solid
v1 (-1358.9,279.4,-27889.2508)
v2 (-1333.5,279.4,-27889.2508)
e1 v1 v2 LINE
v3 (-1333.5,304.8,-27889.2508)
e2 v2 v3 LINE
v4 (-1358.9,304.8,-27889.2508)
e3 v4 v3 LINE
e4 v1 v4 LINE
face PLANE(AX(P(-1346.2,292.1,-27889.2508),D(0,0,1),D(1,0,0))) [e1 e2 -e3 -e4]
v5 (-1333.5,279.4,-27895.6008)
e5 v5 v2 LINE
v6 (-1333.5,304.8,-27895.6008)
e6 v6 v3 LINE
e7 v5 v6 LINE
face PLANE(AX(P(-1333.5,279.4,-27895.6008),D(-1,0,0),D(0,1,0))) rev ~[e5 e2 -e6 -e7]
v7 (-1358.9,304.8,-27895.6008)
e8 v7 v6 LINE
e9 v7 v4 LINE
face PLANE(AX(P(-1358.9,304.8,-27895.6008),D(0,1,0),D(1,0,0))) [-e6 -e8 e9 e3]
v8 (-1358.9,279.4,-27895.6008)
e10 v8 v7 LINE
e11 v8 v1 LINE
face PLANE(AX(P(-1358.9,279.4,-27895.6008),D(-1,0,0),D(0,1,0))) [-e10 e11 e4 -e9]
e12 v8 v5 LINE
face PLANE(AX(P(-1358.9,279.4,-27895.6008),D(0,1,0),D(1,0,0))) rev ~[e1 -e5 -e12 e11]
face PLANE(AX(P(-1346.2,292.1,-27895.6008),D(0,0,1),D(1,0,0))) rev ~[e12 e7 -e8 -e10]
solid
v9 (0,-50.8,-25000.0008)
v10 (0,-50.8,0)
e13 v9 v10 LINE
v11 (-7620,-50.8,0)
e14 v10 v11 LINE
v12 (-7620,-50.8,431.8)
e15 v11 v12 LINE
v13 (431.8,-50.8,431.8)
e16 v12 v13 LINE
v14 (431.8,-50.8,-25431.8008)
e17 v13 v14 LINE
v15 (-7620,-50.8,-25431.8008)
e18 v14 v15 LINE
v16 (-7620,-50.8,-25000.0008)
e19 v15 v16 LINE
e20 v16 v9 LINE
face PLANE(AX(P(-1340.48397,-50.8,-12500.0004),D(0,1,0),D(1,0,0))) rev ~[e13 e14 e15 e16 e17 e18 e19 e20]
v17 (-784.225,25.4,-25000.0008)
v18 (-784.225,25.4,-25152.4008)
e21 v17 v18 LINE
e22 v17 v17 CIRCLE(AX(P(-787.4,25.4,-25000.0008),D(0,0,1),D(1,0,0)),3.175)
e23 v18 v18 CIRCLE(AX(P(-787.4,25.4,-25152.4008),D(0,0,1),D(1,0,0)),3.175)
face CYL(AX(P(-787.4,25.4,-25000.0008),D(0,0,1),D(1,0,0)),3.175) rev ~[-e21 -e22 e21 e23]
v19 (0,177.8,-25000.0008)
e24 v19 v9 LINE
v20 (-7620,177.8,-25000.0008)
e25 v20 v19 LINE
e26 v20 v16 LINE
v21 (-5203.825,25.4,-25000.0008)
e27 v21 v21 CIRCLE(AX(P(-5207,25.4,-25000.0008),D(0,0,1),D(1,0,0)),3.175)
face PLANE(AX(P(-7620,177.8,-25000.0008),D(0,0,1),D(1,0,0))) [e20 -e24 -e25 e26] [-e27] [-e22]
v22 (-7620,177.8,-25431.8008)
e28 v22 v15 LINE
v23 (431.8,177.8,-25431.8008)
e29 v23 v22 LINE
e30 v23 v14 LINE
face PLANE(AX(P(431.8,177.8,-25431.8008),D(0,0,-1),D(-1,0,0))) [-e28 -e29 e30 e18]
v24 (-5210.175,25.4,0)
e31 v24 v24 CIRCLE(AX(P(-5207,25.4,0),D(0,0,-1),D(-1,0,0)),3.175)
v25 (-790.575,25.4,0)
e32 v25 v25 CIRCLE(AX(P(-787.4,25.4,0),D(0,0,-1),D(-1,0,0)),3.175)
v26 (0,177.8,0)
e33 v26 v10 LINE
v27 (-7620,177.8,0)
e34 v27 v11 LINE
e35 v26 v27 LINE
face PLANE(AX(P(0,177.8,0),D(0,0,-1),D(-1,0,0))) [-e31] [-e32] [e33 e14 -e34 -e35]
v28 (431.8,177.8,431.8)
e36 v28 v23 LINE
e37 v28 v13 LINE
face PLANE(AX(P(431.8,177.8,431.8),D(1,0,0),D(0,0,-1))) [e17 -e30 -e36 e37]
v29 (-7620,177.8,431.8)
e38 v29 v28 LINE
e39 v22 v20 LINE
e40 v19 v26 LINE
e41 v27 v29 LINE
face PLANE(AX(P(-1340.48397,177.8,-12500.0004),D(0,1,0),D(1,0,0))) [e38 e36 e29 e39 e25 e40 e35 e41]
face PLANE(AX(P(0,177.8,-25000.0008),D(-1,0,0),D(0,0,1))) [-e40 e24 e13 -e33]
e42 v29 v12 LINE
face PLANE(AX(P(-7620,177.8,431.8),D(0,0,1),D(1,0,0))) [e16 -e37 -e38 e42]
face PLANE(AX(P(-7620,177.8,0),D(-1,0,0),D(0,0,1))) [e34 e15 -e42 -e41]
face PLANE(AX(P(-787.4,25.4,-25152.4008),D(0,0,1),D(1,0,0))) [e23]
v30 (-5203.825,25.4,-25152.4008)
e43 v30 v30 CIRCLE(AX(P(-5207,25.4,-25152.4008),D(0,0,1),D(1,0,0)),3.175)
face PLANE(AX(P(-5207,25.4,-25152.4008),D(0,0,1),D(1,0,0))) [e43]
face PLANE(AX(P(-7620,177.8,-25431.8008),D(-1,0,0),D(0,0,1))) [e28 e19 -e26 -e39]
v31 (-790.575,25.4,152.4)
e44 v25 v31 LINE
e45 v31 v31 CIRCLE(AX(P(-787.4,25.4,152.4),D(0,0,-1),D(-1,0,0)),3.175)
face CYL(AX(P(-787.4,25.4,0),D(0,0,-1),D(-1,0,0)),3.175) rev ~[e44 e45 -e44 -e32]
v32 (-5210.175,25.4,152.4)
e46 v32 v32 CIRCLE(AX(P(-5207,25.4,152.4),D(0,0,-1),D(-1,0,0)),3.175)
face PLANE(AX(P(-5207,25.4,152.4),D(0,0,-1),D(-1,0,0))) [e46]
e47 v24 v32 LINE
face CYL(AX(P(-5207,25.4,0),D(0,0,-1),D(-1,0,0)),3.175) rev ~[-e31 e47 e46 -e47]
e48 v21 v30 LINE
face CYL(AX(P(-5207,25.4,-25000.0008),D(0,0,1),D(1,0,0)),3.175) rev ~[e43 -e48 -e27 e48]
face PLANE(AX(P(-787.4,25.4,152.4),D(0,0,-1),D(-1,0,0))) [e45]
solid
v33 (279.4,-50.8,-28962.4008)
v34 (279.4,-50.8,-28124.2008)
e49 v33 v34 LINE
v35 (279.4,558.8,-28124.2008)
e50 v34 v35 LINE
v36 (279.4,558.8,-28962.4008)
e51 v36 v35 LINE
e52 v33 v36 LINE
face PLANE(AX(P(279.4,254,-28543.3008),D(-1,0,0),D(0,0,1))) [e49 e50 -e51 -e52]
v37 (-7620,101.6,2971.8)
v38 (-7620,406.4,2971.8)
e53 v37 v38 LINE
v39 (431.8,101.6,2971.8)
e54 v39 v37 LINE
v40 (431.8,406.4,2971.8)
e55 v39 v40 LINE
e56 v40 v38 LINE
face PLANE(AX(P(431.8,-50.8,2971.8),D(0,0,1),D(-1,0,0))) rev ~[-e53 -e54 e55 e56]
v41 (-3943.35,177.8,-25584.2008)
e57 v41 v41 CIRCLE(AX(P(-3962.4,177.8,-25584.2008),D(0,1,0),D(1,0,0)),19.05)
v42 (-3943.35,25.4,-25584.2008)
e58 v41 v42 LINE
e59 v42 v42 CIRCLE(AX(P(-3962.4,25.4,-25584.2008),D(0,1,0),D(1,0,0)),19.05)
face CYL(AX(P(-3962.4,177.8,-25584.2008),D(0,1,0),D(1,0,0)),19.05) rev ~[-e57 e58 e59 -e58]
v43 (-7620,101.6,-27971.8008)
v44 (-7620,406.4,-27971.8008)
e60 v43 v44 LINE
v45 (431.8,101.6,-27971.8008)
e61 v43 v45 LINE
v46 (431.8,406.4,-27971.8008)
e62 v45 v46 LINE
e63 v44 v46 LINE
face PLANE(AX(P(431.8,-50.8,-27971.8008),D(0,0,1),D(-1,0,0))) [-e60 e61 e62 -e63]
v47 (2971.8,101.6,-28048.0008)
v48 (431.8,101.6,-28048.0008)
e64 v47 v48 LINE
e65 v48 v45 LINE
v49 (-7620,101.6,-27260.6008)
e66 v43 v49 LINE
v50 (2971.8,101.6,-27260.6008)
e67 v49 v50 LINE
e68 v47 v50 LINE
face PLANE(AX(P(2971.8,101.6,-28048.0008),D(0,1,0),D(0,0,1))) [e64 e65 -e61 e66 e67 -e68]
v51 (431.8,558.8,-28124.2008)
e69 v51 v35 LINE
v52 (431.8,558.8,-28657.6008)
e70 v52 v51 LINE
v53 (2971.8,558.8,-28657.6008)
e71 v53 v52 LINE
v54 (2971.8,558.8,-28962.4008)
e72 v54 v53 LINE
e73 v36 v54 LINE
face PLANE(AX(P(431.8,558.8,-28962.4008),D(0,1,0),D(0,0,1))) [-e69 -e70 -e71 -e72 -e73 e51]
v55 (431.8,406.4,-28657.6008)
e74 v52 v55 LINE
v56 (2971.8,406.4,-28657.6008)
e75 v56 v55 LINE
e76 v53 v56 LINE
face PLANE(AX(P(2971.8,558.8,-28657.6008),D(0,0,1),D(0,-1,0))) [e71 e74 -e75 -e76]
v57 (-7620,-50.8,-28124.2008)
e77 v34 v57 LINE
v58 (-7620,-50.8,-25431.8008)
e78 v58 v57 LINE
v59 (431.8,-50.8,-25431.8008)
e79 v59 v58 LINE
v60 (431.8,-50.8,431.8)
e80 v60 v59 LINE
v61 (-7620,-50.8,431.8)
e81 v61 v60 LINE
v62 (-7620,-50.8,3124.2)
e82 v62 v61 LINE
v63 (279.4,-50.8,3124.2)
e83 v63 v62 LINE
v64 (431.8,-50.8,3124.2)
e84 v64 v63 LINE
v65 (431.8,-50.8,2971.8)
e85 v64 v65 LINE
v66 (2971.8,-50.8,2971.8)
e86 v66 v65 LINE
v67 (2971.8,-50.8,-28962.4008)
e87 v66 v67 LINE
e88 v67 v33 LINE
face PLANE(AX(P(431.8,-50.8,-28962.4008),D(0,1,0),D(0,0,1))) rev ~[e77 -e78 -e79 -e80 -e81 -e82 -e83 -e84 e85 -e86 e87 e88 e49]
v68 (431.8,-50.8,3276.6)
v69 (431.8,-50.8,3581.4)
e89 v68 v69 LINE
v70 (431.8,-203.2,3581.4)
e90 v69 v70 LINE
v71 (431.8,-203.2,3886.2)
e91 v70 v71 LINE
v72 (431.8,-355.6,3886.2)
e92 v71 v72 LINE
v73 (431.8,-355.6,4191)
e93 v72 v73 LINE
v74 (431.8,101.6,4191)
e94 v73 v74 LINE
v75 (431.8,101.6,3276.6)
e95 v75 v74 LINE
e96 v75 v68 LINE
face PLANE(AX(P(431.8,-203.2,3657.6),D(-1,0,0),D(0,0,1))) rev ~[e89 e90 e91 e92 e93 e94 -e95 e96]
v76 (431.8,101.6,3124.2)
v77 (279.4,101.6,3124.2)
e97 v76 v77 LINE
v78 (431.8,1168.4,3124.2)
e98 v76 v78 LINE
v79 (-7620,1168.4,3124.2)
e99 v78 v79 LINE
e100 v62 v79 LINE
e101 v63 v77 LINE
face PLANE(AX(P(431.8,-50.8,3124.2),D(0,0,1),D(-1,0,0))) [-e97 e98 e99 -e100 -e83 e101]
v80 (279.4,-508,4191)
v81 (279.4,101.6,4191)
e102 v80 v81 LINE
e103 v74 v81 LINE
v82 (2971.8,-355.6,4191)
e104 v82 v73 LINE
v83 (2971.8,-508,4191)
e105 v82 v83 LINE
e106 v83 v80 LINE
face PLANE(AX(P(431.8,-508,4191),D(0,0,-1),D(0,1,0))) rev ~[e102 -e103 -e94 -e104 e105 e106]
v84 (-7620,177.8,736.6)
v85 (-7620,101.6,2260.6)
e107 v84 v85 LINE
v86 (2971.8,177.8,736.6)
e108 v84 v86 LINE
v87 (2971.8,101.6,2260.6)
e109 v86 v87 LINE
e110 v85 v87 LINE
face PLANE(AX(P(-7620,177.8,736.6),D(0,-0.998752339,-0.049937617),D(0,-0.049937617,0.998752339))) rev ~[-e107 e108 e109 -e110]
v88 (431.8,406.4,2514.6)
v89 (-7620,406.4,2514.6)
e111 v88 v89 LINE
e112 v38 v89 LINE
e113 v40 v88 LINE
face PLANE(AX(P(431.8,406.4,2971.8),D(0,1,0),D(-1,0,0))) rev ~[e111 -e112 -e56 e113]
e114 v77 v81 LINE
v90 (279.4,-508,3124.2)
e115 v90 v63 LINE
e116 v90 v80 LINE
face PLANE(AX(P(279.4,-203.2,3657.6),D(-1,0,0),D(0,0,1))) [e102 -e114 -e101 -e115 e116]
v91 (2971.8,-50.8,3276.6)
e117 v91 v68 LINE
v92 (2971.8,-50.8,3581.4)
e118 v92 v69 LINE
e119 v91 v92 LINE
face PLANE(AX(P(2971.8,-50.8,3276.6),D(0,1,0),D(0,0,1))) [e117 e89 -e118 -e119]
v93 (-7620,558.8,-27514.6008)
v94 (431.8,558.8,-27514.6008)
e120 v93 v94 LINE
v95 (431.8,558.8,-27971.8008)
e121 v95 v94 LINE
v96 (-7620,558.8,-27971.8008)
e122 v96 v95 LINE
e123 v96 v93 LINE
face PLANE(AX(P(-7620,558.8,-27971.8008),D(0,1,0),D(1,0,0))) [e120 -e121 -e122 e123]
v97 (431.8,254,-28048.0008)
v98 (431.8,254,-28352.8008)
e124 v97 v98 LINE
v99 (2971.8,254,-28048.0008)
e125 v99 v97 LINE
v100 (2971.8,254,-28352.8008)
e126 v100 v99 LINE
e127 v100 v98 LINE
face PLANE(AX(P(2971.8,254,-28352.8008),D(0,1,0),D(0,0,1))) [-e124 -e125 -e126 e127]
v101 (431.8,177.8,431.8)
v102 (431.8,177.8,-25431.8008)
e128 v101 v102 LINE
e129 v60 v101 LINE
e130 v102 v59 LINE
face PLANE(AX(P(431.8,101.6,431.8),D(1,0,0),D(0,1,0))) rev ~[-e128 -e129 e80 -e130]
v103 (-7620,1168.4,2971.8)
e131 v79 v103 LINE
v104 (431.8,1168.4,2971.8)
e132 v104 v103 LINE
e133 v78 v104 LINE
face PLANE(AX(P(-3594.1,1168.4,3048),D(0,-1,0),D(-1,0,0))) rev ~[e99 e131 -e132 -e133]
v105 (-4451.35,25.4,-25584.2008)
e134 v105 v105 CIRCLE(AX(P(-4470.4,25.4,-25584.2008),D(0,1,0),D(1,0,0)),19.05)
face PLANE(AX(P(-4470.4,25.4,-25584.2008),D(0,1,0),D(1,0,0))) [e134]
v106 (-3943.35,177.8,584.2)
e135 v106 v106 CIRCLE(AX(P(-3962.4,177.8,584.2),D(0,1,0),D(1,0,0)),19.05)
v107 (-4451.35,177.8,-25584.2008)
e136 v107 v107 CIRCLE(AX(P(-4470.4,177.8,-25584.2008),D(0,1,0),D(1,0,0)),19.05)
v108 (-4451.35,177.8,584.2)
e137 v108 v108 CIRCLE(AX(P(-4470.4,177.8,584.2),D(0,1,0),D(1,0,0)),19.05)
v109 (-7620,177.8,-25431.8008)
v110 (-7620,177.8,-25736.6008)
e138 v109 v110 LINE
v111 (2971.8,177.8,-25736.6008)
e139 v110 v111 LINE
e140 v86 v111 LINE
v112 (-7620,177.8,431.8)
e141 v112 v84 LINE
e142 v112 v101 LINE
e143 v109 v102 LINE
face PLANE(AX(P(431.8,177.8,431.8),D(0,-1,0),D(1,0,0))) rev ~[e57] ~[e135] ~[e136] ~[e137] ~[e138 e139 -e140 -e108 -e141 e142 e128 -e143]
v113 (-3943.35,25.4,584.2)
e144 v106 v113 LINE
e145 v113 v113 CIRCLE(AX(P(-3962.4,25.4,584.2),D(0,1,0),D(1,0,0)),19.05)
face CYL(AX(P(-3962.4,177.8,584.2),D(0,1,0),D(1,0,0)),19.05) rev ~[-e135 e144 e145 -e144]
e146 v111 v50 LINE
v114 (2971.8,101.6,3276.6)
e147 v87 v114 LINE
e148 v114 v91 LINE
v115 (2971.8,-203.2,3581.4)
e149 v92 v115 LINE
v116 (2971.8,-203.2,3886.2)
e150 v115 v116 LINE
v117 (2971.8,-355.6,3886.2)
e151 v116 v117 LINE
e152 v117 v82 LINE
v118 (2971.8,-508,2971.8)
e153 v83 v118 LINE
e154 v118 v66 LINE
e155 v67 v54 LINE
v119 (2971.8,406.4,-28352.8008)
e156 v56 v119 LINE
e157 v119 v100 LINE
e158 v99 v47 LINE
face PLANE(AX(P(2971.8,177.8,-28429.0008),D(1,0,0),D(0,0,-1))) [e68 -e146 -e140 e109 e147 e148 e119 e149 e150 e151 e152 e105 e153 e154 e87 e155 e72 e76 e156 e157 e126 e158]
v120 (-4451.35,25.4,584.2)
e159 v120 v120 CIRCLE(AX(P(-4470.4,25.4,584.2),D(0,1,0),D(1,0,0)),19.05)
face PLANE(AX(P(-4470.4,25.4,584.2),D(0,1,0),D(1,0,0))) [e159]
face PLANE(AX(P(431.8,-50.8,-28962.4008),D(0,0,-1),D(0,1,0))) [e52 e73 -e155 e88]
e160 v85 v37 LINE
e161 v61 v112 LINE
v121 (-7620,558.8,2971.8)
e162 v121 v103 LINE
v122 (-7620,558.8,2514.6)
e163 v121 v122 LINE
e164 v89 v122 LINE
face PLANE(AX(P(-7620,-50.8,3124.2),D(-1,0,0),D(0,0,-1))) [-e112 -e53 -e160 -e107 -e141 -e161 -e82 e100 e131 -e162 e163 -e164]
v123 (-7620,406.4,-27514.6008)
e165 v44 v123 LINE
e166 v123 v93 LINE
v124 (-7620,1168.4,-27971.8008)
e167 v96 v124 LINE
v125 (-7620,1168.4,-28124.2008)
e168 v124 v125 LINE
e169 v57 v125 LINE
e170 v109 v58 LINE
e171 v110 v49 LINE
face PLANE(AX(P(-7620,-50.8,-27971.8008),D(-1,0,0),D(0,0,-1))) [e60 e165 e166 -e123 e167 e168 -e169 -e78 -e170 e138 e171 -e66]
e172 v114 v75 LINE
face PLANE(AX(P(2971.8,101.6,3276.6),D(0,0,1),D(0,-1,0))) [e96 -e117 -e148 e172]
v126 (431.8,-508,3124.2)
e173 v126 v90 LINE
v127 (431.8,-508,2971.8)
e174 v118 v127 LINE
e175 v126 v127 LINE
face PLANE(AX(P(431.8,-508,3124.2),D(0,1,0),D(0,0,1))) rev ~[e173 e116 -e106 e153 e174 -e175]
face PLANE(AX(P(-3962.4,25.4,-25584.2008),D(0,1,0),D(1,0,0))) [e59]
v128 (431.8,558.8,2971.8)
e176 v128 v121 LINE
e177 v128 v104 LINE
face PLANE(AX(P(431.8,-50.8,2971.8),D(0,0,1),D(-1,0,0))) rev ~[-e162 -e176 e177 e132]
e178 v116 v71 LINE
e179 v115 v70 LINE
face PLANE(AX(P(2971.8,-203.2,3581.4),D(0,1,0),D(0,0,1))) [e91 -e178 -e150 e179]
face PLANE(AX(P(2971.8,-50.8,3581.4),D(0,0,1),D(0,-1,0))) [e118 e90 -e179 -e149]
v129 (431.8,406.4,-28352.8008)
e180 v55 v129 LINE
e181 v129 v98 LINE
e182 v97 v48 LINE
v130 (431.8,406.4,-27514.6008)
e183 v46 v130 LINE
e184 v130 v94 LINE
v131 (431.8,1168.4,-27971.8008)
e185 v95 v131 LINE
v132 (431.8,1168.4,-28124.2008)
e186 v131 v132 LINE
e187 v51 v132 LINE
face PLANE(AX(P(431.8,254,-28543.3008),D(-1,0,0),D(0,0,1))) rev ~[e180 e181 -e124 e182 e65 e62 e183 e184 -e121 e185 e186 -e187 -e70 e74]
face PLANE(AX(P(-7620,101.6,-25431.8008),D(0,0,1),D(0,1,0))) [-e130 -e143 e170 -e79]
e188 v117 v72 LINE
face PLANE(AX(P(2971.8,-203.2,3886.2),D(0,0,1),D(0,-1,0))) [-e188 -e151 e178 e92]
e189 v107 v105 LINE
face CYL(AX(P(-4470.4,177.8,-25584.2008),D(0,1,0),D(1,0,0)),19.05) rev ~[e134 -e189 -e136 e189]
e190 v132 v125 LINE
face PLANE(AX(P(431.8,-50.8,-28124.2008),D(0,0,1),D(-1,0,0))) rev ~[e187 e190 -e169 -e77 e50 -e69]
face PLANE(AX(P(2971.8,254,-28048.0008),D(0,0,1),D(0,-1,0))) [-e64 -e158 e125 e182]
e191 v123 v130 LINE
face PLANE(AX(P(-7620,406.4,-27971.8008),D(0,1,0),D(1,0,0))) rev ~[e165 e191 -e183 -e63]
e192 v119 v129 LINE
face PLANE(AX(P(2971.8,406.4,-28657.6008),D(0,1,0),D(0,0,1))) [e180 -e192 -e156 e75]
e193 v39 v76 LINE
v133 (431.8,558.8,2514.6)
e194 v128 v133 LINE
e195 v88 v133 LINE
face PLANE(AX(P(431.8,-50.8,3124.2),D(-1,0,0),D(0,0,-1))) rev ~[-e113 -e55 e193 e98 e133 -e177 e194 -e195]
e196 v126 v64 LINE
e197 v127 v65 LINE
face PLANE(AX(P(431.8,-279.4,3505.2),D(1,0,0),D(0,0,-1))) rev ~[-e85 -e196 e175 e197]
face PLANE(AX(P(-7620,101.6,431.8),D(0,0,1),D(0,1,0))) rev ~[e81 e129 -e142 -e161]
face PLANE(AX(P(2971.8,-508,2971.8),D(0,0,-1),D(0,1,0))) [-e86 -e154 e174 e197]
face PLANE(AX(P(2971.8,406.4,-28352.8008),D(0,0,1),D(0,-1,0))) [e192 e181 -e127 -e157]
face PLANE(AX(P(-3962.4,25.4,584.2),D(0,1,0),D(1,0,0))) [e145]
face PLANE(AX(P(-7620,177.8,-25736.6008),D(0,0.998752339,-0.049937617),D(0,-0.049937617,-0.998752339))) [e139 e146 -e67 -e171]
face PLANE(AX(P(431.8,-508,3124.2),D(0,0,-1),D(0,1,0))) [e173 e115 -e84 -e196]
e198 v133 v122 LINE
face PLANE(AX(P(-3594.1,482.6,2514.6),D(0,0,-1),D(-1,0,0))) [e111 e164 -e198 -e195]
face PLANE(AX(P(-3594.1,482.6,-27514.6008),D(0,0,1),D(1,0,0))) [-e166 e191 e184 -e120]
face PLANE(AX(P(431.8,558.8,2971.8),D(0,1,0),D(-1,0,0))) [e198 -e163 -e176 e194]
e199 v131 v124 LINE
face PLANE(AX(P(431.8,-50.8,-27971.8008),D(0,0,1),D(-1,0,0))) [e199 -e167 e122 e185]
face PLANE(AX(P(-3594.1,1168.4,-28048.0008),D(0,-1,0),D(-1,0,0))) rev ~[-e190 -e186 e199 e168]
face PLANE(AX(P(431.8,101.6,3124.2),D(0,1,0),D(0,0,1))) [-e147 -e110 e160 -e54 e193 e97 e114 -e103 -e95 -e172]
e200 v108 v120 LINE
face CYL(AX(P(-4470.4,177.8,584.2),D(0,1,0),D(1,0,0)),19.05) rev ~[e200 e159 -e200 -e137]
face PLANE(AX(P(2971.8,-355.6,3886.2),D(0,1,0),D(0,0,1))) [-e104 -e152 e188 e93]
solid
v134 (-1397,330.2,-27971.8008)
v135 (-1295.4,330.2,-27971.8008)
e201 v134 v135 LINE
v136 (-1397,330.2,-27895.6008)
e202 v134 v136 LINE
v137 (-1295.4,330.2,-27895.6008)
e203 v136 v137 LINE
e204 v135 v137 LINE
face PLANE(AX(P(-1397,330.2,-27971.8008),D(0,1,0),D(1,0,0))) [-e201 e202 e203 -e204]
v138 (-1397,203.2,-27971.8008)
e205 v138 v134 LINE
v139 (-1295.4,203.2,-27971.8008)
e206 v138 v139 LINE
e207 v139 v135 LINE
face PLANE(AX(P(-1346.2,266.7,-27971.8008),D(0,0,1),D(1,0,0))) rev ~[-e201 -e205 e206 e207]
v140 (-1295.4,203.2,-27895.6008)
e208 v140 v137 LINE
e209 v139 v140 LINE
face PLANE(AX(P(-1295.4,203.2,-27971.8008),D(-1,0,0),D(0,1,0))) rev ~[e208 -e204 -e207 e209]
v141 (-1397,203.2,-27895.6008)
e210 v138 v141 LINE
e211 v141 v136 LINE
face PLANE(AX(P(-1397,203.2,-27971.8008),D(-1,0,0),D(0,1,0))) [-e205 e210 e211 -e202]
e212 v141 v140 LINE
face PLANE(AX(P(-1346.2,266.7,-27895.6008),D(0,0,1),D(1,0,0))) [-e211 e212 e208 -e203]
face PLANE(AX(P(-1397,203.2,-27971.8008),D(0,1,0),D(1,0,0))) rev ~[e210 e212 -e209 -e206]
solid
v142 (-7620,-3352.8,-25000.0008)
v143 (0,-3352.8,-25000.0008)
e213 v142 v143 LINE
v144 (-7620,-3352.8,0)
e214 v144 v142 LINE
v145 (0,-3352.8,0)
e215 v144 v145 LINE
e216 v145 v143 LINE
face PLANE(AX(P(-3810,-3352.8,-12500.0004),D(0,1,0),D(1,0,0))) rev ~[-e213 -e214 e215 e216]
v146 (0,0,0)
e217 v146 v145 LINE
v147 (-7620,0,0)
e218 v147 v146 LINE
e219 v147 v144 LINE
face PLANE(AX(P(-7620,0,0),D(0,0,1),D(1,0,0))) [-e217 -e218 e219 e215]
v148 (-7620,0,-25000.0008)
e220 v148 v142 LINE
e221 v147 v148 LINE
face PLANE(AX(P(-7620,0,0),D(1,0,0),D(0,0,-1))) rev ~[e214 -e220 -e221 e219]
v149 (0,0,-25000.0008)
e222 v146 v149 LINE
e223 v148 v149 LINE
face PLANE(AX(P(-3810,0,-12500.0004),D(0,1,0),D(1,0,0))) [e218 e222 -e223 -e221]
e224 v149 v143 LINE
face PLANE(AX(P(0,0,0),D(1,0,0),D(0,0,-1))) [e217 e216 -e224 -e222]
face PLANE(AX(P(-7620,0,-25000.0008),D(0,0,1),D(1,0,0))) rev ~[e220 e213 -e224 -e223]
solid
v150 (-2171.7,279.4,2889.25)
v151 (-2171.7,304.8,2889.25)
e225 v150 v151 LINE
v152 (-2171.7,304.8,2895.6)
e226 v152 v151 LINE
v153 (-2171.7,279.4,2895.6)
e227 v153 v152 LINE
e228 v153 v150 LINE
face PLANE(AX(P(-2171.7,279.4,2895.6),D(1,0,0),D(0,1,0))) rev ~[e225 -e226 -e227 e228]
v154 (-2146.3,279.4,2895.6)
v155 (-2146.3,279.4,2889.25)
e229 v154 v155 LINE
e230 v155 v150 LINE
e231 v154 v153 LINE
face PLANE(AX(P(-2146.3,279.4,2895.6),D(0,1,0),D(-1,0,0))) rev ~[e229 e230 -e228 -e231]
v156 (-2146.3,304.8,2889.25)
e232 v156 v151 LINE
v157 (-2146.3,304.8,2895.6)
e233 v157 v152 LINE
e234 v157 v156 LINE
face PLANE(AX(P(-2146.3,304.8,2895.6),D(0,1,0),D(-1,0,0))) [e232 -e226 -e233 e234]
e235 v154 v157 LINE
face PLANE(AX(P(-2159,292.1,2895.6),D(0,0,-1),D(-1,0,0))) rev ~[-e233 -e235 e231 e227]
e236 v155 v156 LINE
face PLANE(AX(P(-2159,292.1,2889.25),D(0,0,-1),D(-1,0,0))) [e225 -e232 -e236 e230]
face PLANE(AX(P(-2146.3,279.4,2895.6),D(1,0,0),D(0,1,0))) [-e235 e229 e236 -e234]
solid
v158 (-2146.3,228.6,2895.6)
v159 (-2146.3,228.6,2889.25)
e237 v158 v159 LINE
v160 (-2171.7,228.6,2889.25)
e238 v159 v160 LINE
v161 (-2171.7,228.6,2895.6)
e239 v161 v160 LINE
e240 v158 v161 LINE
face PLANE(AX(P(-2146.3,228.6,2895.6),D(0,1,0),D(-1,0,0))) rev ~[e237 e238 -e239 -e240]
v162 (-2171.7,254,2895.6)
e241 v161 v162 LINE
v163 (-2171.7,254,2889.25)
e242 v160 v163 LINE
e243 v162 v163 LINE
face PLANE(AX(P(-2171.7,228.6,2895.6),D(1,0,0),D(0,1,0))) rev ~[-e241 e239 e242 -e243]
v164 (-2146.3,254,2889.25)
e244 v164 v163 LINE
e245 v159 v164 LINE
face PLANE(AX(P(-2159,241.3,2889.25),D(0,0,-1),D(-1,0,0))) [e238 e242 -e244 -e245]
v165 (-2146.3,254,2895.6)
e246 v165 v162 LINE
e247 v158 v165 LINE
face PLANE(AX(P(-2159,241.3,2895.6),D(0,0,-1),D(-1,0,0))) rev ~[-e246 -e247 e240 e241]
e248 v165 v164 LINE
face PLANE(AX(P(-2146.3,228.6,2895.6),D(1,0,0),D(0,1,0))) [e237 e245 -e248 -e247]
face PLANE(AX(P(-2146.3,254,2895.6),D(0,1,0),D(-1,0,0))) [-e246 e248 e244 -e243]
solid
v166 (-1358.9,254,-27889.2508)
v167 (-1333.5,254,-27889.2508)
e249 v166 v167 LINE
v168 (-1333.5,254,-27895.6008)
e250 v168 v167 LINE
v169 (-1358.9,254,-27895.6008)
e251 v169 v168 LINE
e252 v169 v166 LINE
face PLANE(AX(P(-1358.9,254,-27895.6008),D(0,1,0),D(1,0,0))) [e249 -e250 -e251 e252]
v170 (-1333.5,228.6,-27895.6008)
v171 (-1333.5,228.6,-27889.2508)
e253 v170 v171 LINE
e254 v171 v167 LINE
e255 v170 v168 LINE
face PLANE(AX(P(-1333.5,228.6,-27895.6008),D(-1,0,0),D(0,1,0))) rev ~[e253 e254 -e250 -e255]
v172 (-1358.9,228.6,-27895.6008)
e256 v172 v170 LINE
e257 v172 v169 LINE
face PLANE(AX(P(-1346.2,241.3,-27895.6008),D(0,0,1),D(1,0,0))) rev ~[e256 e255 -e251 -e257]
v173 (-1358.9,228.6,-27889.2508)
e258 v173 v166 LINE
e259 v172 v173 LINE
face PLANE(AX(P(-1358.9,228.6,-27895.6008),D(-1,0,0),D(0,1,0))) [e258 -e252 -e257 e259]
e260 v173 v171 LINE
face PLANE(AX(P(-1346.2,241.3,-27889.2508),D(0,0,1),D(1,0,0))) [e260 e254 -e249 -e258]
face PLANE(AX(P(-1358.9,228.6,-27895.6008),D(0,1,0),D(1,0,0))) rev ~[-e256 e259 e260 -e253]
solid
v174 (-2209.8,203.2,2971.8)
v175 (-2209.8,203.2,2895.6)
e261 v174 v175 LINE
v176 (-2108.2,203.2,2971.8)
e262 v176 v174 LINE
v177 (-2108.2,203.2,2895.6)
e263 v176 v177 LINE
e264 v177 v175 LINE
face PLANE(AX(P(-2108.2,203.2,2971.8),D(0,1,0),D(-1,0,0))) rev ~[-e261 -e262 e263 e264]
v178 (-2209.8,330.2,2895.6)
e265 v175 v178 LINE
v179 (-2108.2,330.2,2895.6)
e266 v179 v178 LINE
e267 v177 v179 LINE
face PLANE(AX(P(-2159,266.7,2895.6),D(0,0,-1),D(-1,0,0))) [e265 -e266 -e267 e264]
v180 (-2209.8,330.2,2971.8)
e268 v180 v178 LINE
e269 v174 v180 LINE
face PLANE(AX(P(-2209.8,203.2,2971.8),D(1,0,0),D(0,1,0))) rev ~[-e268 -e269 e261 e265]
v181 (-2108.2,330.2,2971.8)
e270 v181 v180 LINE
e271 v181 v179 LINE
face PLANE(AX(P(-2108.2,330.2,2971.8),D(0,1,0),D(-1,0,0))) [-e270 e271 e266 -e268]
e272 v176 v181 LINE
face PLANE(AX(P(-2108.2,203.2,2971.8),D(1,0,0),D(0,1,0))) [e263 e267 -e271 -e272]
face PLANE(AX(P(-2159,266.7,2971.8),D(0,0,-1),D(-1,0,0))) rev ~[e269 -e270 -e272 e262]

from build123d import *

# Parameters (mm, degrees)
SKETCH1_W                         = 7620
SKETCH1_H                         = 25000.0008
POOL_WATER_DEPTH                  = 3352.8
POOL_DECK_SUPPORT_DEPTH           = 101.6
POOL_DECK_SUPPORT_DEPTH_BACK      = 76.2
POOL_DECK_DEPTH                   = 152.4
SKETCH4_W                         = 8051.8
SKETCH4_H                         = 152.4
WALL_DEPTH                        = 1219.2
WALL_2_DEPTH                      = 1219.2
SKETCH7_W                         = 8051.8
SKETCH7_H                         = 152.4
NEAR_SIDE_BENCH_DEPTH             = 457.2
SKETCH8_W                         = 8051.8
SKETCH8_H                         = 152.4
FAR_SIDE_BENCH_DEPTH              = 457.2
STAIRS_DOWN_DEPTH                 = 2540
SLOPED_START                      = -8051.8
SLOPED_POOL_DECK_NEAR_SIDE_DEPTH  = 10591.8
SLOPED_POOL_DECK_FAR_SIDE_DEPTH   = 10591.8
SLOPED_POOL_DECK_LENGTH_DEPTH     = 25863.6008
DRAIN_CORRECTION_DEPTH            = 3455.4
STAIRS_UP_DEPTH                   = 2540
PERIMETER_DRAIN_DEPTH             = 228.6
SKETCH23_R                        = 3.175
FAR_SIDE_SWIM_LANE_EYELETS_DEPTH  = 152.4
SKETCH25_R                        = 3.175
NEAR_SIDE_SWIM_LANE_EYELETS_DEPTH = 152.4
SKETCH26_W                        = 838.2
SKETCH26_H                        = 609.6
FAR_SIDE_STAIRS_WALL_DEPTH        = 152.4
SKETCH27_W                        = 1066.8
SKETCH27_H                        = 609.6
NEAR_SIDE_STAIRS_WALL_DEPTH       = 152.4
SKETCH28_W                        = 101.6
SKETCH28_H                        = 127
FAR_SIDE_ELECTRICAL_BOX_DEPTH     = 76.2
SKETCH29_W                        = 25.4
SKETCH29_H                        = 25.4
FAR_SIDE_OUTLETS_DEPTH            = 6.35
FAR_SIDE_OUTLETS_2_DEPTH          = 6.35
SKETCH30_W                        = 101.6
SKETCH30_H                        = 127
NEAR_SIDE_ELECTRICAL_BOX_DEPTH    = 76.2
SKETCH31_W                        = 25.4
SKETCH31_H                        = 25.4
NEAR_SIDE_OUTLETS_DEPTH           = 6.35
NEAR_SIDE_OUTLETS_2_DEPTH         = 6.35
SKETCH32_R                        = 19.05
CUT_EXTRUDE4_DEPTH                = 152.4


with BuildPart() as part:
    # Sketch1 → Pool Water (new body)
    with BuildSketch(Plane(origin=(0, 0, 0), x_dir=(1, 0, 0), z_dir=(0, 1, 0))):
        with Locations((-3810, 12500.0004)):
            Rectangle(SKETCH1_W, SKETCH1_H)
    extrude(amount=-POOL_WATER_DEPTH)


with BuildPart() as body_2:
    # Sketch2 → Pool Deck Support (new body, two sides)
    with BuildSketch(Plane(origin=(0, 0, 0), x_dir=(1, 0, 0), z_dir=(0, 1, 0))) as pool_deck_support_sk:
        Polygon((-7620, 0), (-7620, -431.8), (431.8, -431.8), (431.8, 25431.8008), (-7620, 25431.8008), (-7620, 25000.0008), (0, 25000.0008), (0, 0), align=None)
    extrude(amount=POOL_DECK_SUPPORT_DEPTH)
    extrude(pool_deck_support_sk.sketch, amount=-POOL_DECK_SUPPORT_DEPTH_BACK)



with BuildPart() as body_3:
    # Sketch3 → Pool Deck (new body)
    with BuildSketch(Plane(origin=(0, 101.6, 0), x_dir=(1, 0, 0), z_dir=(0, 1, 0))):
        Polygon((-7620, -2971.8), (-7620, -431.8), (431.8, -431.8), (431.8, 25431.8008), (-7620, 25431.8008), (-7620, 27971.8008), (2971.8, 27971.8008), (2971.8, -2971.8), align=None)
    extrude(amount=-POOL_DECK_DEPTH)



with BuildPart() as body_4:
    # Sketch4 → Wall (new body)
    with BuildSketch(Plane(origin=(0, -50.8, 0), x_dir=(-1, 0, 0), z_dir=(0, -1, 0))):
        with Locations((3594.1, -3048)):
            Rectangle(SKETCH4_W, SKETCH4_H)
    extrude(amount=-WALL_DEPTH)

    # Sketch7 → Near Side Bench (add)
    with BuildSketch(Plane(origin=(0, 0, 2971.8), x_dir=(-1, 0, 0), z_dir=(0, 0, -1))):
        with Locations((3594.1, 482.6)):
            Rectangle(SKETCH7_W, SKETCH7_H)
    extrude(amount=NEAR_SIDE_BENCH_DEPTH)


with BuildPart() as body_5:
    # Sketch4 → Wall 2 (new body)
    with BuildSketch(Plane(origin=(0, -50.8, 0), x_dir=(-1, 0, 0), z_dir=(0, -1, 0))):
        with Locations((3594.1, 28048.0008)):
            Rectangle(SKETCH4_W, SKETCH4_H)
    extrude(amount=-WALL_2_DEPTH)

    # Sketch8 → Far Side Bench (add)
    with BuildSketch(Plane.XY.offset(-27971.8008)):
        with Locations((-3594.1, 482.6)):
            Rectangle(SKETCH8_W, SKETCH8_H)
    extrude(amount=FAR_SIDE_BENCH_DEPTH)


with BuildPart() as body_3_1:
    add(body_3.part)

    add(body_4.part)  # Stairs Down merges body 4
    # Sketch9 → Stairs Down (add)
    with BuildSketch(Plane(origin=(2971.8, 0, 0), x_dir=(0, 0, -1), z_dir=(1, 0, 0))):
        Polygon((-3276.6, -50.8), (-3581.4, -50.8), (-3581.4, -203.2), (-3886.2, -203.2), (-3886.2, -355.6), (-4191, -355.6), (-4191, -508), (-4160.29065508, -508), (-2971.8, -508), (-2971.8, -291.946336827), (-2971.8, 101.6), (-3276.6, 101.6), align=None)
    extrude(amount=-STAIRS_DOWN_DEPTH)


with BuildPart() as body_2_1:
    add(body_2.part)

    add(body_3_1.part)  # Sloped Pool Deck Near Side merges body 3
    # Sketch14 → Sloped Pool Deck Near Side (add)
    with BuildSketch(Plane(origin=(431.8, 0, 0), x_dir=(0, 0, -1), z_dir=(1, 0, 0)).offset(SLOPED_START)):
        Polygon((-431.8, 101.6), (-431.8, 177.8), (-736.6, 177.8), (-2260.6, 101.6), align=None)
    extrude(amount=SLOPED_POOL_DECK_NEAR_SIDE_DEPTH)

    # Sketch17 → Sloped Pool Deck Far Side (add)
    with BuildSketch(Plane.ZY.offset(7620)):
        Polygon((-25431.8008, 101.6), (-25431.8008, 177.8), (-25736.6008, 177.8), (-27260.6008, 101.6), align=None)
    extrude(amount=-SLOPED_POOL_DECK_FAR_SIDE_DEPTH)

    # Sketch15 → Sloped Pool Deck Length (add)
    with BuildSketch(Plane(origin=(0, 0, 431.8), x_dir=(-1, 0, 0), z_dir=(0, 0, -1))):
        Polygon((-431.8, 101.6), (-431.8, 177.8), (-1346.2, 177.8), (-2971.8, 177.8), (-2971.8, 101.6), (-2260.6, 101.6), (-1346.2, 101.6), align=None)
    extrude(amount=SLOPED_POOL_DECK_LENGTH_DEPTH)

    # Sketch19 → Drain Correction (cut, through all)
    with BuildSketch(Plane(origin=(0, 101.6, 0), x_dir=(1, 0, 0), z_dir=(0, 1, 0))):
        Polygon((-7620, 0), (-7620, -431.8), (431.8, -431.8), (431.8, 25431.8008), (-7620, 25431.8008), (-7620, 25000.0008), (0, 25000.0008), (0, 0), align=None)
    extrude(amount=-DRAIN_CORRECTION_DEPTH, mode=Mode.SUBTRACT)


    add(body_5.part)  # Stairs Up merges body 5
    # Sketch21 → Stairs Up (add)
    with BuildSketch(Plane(origin=(2971.8, 0, 0), x_dir=(0, 0, -1), z_dir=(1, 0, 0))):
        Polygon((28657.6008, 406.4), (28352.8008, 406.4), (28352.8008, 254), (28048.0008, 254), (28048.0008, 101.6), (27743.2008, 101.6), (27743.2008, -50.8), (28962.4008, -50.8), (28962.4008, 558.8), (28657.6008, 558.8), align=None)
    extrude(amount=-STAIRS_UP_DEPTH)

    # Sketch26 → Far Side Stairs Wall (add)
    with BuildSketch(Plane.ZY.offset(-431.8)):
        with Locations((-28543.3008, 254)):
            Rectangle(SKETCH26_W, SKETCH26_H)
    extrude(amount=FAR_SIDE_STAIRS_WALL_DEPTH)

    # Sketch27 → Near Side Stairs Wall (add)
    with BuildSketch(Plane.ZY.offset(-431.8)):
        with Locations((3657.6, -203.2)):
            Rectangle(SKETCH27_W, SKETCH27_H)
    extrude(amount=NEAR_SIDE_STAIRS_WALL_DEPTH)

    # Sketch32 → Cut-Extrude4 (cut)
    with BuildSketch(Plane(origin=(0, 177.8, 0), x_dir=(1, 0, 0), z_dir=(0, 1, 0))):
        with Locations((-4470.4, -584.2)):
            Circle(SKETCH32_R)
        with Locations((-3962.4, -584.2)):
            Circle(SKETCH32_R)
        with Locations((-4470.4, 25584.2008)):
            Circle(SKETCH32_R)
        with Locations((-3962.4, 25584.2008)):
            Circle(SKETCH32_R)
    extrude(amount=-CUT_EXTRUDE4_DEPTH, mode=Mode.SUBTRACT)


with BuildPart() as body_3_2:
    # Sketch20 → Perimeter Drain (new body)
    with BuildSketch(Plane(origin=(0, 177.8, 0), x_dir=(1, 0, 0), z_dir=(0, 1, 0))):
        Polygon((-7620, 0), (-7620, -431.8), (431.8, -431.8), (431.8, 25431.8008), (-7620, 25431.8008), (-7620, 25000.0008), (0, 25000.0008), (0, 0), align=None)
    extrude(amount=-PERIMETER_DRAIN_DEPTH)

    # Sketch23 → Far Side Swim Lane Eyelets (cut)
    with BuildSketch(Plane.XY.offset(-25000.0008)):
        with Locations((-5207, 25.4)):
            Circle(SKETCH23_R)
        with Locations((-787.4, 25.4)):
            Circle(SKETCH23_R)
    extrude(amount=-FAR_SIDE_SWIM_LANE_EYELETS_DEPTH, mode=Mode.SUBTRACT)

    # Sketch25 → Near Side Swim Lane Eyelets (cut)
    with BuildSketch(Plane(origin=(0, 0, 0), x_dir=(-1, 0, 0), z_dir=(0, 0, -1))):
        with Locations((787.4, 25.4)):
            Circle(SKETCH25_R)
        with Locations((5207, 25.4)):
            Circle(SKETCH25_R)
    extrude(amount=-NEAR_SIDE_SWIM_LANE_EYELETS_DEPTH, mode=Mode.SUBTRACT)


with BuildPart() as body_4_2:
    # Sketch28 → Far Side Electrical Box (new body)
    with BuildSketch(Plane.XY.offset(-27971.8008)):
        with Locations((-1346.2, 266.7)):
            Rectangle(SKETCH28_W, SKETCH28_H)
    extrude(amount=FAR_SIDE_ELECTRICAL_BOX_DEPTH)


with BuildPart() as body_5_2:
    # Sketch29 → Far Side Outlets (new body)
    with BuildSketch(Plane.XY.offset(-27895.6008)):
        with Locations((-1346.2, 292.1)):
            Rectangle(SKETCH29_W, SKETCH29_H)
    extrude(amount=FAR_SIDE_OUTLETS_DEPTH)


with BuildPart() as body_6:
    # Sketch29 → Far Side Outlets 2 (new body)
    with BuildSketch(Plane.XY.offset(-27895.6008)):
        with Locations((-1346.2, 241.3)):
            Rectangle(SKETCH29_W, SKETCH29_H)
    extrude(amount=FAR_SIDE_OUTLETS_2_DEPTH)


with BuildPart() as body_7:
    # Sketch30 → Near Side Electrical Box (new body)
    with BuildSketch(Plane(origin=(0, 0, 2971.8), x_dir=(-1, 0, 0), z_dir=(0, 0, -1))):
        with Locations((2159, 266.7)):
            Rectangle(SKETCH30_W, SKETCH30_H)
    extrude(amount=NEAR_SIDE_ELECTRICAL_BOX_DEPTH)


with BuildPart() as body_8:
    # Sketch31 → Near Side Outlets (new body)
    with BuildSketch(Plane(origin=(0, 0, 2895.6), x_dir=(-1, 0, 0), z_dir=(0, 0, -1))):
        with Locations((2159, 292.1)):
            Rectangle(SKETCH31_W, SKETCH31_H)
    extrude(amount=NEAR_SIDE_OUTLETS_DEPTH)


with BuildPart() as body_9:
    # Sketch31 → Near Side Outlets 2 (new body)
    with BuildSketch(Plane(origin=(0, 0, 2895.6), x_dir=(-1, 0, 0), z_dir=(0, 0, -1))):
        with Locations((2159, 241.3)):
            Rectangle(SKETCH31_W, SKETCH31_H)
    extrude(amount=NEAR_SIDE_OUTLETS_2_DEPTH)


solid = Compound([part.part, body_2_1.part, body_3_2.part, body_4_2.part, body_5_2.part, body_6.part, body_7.part, body_8.part, body_9.part])
